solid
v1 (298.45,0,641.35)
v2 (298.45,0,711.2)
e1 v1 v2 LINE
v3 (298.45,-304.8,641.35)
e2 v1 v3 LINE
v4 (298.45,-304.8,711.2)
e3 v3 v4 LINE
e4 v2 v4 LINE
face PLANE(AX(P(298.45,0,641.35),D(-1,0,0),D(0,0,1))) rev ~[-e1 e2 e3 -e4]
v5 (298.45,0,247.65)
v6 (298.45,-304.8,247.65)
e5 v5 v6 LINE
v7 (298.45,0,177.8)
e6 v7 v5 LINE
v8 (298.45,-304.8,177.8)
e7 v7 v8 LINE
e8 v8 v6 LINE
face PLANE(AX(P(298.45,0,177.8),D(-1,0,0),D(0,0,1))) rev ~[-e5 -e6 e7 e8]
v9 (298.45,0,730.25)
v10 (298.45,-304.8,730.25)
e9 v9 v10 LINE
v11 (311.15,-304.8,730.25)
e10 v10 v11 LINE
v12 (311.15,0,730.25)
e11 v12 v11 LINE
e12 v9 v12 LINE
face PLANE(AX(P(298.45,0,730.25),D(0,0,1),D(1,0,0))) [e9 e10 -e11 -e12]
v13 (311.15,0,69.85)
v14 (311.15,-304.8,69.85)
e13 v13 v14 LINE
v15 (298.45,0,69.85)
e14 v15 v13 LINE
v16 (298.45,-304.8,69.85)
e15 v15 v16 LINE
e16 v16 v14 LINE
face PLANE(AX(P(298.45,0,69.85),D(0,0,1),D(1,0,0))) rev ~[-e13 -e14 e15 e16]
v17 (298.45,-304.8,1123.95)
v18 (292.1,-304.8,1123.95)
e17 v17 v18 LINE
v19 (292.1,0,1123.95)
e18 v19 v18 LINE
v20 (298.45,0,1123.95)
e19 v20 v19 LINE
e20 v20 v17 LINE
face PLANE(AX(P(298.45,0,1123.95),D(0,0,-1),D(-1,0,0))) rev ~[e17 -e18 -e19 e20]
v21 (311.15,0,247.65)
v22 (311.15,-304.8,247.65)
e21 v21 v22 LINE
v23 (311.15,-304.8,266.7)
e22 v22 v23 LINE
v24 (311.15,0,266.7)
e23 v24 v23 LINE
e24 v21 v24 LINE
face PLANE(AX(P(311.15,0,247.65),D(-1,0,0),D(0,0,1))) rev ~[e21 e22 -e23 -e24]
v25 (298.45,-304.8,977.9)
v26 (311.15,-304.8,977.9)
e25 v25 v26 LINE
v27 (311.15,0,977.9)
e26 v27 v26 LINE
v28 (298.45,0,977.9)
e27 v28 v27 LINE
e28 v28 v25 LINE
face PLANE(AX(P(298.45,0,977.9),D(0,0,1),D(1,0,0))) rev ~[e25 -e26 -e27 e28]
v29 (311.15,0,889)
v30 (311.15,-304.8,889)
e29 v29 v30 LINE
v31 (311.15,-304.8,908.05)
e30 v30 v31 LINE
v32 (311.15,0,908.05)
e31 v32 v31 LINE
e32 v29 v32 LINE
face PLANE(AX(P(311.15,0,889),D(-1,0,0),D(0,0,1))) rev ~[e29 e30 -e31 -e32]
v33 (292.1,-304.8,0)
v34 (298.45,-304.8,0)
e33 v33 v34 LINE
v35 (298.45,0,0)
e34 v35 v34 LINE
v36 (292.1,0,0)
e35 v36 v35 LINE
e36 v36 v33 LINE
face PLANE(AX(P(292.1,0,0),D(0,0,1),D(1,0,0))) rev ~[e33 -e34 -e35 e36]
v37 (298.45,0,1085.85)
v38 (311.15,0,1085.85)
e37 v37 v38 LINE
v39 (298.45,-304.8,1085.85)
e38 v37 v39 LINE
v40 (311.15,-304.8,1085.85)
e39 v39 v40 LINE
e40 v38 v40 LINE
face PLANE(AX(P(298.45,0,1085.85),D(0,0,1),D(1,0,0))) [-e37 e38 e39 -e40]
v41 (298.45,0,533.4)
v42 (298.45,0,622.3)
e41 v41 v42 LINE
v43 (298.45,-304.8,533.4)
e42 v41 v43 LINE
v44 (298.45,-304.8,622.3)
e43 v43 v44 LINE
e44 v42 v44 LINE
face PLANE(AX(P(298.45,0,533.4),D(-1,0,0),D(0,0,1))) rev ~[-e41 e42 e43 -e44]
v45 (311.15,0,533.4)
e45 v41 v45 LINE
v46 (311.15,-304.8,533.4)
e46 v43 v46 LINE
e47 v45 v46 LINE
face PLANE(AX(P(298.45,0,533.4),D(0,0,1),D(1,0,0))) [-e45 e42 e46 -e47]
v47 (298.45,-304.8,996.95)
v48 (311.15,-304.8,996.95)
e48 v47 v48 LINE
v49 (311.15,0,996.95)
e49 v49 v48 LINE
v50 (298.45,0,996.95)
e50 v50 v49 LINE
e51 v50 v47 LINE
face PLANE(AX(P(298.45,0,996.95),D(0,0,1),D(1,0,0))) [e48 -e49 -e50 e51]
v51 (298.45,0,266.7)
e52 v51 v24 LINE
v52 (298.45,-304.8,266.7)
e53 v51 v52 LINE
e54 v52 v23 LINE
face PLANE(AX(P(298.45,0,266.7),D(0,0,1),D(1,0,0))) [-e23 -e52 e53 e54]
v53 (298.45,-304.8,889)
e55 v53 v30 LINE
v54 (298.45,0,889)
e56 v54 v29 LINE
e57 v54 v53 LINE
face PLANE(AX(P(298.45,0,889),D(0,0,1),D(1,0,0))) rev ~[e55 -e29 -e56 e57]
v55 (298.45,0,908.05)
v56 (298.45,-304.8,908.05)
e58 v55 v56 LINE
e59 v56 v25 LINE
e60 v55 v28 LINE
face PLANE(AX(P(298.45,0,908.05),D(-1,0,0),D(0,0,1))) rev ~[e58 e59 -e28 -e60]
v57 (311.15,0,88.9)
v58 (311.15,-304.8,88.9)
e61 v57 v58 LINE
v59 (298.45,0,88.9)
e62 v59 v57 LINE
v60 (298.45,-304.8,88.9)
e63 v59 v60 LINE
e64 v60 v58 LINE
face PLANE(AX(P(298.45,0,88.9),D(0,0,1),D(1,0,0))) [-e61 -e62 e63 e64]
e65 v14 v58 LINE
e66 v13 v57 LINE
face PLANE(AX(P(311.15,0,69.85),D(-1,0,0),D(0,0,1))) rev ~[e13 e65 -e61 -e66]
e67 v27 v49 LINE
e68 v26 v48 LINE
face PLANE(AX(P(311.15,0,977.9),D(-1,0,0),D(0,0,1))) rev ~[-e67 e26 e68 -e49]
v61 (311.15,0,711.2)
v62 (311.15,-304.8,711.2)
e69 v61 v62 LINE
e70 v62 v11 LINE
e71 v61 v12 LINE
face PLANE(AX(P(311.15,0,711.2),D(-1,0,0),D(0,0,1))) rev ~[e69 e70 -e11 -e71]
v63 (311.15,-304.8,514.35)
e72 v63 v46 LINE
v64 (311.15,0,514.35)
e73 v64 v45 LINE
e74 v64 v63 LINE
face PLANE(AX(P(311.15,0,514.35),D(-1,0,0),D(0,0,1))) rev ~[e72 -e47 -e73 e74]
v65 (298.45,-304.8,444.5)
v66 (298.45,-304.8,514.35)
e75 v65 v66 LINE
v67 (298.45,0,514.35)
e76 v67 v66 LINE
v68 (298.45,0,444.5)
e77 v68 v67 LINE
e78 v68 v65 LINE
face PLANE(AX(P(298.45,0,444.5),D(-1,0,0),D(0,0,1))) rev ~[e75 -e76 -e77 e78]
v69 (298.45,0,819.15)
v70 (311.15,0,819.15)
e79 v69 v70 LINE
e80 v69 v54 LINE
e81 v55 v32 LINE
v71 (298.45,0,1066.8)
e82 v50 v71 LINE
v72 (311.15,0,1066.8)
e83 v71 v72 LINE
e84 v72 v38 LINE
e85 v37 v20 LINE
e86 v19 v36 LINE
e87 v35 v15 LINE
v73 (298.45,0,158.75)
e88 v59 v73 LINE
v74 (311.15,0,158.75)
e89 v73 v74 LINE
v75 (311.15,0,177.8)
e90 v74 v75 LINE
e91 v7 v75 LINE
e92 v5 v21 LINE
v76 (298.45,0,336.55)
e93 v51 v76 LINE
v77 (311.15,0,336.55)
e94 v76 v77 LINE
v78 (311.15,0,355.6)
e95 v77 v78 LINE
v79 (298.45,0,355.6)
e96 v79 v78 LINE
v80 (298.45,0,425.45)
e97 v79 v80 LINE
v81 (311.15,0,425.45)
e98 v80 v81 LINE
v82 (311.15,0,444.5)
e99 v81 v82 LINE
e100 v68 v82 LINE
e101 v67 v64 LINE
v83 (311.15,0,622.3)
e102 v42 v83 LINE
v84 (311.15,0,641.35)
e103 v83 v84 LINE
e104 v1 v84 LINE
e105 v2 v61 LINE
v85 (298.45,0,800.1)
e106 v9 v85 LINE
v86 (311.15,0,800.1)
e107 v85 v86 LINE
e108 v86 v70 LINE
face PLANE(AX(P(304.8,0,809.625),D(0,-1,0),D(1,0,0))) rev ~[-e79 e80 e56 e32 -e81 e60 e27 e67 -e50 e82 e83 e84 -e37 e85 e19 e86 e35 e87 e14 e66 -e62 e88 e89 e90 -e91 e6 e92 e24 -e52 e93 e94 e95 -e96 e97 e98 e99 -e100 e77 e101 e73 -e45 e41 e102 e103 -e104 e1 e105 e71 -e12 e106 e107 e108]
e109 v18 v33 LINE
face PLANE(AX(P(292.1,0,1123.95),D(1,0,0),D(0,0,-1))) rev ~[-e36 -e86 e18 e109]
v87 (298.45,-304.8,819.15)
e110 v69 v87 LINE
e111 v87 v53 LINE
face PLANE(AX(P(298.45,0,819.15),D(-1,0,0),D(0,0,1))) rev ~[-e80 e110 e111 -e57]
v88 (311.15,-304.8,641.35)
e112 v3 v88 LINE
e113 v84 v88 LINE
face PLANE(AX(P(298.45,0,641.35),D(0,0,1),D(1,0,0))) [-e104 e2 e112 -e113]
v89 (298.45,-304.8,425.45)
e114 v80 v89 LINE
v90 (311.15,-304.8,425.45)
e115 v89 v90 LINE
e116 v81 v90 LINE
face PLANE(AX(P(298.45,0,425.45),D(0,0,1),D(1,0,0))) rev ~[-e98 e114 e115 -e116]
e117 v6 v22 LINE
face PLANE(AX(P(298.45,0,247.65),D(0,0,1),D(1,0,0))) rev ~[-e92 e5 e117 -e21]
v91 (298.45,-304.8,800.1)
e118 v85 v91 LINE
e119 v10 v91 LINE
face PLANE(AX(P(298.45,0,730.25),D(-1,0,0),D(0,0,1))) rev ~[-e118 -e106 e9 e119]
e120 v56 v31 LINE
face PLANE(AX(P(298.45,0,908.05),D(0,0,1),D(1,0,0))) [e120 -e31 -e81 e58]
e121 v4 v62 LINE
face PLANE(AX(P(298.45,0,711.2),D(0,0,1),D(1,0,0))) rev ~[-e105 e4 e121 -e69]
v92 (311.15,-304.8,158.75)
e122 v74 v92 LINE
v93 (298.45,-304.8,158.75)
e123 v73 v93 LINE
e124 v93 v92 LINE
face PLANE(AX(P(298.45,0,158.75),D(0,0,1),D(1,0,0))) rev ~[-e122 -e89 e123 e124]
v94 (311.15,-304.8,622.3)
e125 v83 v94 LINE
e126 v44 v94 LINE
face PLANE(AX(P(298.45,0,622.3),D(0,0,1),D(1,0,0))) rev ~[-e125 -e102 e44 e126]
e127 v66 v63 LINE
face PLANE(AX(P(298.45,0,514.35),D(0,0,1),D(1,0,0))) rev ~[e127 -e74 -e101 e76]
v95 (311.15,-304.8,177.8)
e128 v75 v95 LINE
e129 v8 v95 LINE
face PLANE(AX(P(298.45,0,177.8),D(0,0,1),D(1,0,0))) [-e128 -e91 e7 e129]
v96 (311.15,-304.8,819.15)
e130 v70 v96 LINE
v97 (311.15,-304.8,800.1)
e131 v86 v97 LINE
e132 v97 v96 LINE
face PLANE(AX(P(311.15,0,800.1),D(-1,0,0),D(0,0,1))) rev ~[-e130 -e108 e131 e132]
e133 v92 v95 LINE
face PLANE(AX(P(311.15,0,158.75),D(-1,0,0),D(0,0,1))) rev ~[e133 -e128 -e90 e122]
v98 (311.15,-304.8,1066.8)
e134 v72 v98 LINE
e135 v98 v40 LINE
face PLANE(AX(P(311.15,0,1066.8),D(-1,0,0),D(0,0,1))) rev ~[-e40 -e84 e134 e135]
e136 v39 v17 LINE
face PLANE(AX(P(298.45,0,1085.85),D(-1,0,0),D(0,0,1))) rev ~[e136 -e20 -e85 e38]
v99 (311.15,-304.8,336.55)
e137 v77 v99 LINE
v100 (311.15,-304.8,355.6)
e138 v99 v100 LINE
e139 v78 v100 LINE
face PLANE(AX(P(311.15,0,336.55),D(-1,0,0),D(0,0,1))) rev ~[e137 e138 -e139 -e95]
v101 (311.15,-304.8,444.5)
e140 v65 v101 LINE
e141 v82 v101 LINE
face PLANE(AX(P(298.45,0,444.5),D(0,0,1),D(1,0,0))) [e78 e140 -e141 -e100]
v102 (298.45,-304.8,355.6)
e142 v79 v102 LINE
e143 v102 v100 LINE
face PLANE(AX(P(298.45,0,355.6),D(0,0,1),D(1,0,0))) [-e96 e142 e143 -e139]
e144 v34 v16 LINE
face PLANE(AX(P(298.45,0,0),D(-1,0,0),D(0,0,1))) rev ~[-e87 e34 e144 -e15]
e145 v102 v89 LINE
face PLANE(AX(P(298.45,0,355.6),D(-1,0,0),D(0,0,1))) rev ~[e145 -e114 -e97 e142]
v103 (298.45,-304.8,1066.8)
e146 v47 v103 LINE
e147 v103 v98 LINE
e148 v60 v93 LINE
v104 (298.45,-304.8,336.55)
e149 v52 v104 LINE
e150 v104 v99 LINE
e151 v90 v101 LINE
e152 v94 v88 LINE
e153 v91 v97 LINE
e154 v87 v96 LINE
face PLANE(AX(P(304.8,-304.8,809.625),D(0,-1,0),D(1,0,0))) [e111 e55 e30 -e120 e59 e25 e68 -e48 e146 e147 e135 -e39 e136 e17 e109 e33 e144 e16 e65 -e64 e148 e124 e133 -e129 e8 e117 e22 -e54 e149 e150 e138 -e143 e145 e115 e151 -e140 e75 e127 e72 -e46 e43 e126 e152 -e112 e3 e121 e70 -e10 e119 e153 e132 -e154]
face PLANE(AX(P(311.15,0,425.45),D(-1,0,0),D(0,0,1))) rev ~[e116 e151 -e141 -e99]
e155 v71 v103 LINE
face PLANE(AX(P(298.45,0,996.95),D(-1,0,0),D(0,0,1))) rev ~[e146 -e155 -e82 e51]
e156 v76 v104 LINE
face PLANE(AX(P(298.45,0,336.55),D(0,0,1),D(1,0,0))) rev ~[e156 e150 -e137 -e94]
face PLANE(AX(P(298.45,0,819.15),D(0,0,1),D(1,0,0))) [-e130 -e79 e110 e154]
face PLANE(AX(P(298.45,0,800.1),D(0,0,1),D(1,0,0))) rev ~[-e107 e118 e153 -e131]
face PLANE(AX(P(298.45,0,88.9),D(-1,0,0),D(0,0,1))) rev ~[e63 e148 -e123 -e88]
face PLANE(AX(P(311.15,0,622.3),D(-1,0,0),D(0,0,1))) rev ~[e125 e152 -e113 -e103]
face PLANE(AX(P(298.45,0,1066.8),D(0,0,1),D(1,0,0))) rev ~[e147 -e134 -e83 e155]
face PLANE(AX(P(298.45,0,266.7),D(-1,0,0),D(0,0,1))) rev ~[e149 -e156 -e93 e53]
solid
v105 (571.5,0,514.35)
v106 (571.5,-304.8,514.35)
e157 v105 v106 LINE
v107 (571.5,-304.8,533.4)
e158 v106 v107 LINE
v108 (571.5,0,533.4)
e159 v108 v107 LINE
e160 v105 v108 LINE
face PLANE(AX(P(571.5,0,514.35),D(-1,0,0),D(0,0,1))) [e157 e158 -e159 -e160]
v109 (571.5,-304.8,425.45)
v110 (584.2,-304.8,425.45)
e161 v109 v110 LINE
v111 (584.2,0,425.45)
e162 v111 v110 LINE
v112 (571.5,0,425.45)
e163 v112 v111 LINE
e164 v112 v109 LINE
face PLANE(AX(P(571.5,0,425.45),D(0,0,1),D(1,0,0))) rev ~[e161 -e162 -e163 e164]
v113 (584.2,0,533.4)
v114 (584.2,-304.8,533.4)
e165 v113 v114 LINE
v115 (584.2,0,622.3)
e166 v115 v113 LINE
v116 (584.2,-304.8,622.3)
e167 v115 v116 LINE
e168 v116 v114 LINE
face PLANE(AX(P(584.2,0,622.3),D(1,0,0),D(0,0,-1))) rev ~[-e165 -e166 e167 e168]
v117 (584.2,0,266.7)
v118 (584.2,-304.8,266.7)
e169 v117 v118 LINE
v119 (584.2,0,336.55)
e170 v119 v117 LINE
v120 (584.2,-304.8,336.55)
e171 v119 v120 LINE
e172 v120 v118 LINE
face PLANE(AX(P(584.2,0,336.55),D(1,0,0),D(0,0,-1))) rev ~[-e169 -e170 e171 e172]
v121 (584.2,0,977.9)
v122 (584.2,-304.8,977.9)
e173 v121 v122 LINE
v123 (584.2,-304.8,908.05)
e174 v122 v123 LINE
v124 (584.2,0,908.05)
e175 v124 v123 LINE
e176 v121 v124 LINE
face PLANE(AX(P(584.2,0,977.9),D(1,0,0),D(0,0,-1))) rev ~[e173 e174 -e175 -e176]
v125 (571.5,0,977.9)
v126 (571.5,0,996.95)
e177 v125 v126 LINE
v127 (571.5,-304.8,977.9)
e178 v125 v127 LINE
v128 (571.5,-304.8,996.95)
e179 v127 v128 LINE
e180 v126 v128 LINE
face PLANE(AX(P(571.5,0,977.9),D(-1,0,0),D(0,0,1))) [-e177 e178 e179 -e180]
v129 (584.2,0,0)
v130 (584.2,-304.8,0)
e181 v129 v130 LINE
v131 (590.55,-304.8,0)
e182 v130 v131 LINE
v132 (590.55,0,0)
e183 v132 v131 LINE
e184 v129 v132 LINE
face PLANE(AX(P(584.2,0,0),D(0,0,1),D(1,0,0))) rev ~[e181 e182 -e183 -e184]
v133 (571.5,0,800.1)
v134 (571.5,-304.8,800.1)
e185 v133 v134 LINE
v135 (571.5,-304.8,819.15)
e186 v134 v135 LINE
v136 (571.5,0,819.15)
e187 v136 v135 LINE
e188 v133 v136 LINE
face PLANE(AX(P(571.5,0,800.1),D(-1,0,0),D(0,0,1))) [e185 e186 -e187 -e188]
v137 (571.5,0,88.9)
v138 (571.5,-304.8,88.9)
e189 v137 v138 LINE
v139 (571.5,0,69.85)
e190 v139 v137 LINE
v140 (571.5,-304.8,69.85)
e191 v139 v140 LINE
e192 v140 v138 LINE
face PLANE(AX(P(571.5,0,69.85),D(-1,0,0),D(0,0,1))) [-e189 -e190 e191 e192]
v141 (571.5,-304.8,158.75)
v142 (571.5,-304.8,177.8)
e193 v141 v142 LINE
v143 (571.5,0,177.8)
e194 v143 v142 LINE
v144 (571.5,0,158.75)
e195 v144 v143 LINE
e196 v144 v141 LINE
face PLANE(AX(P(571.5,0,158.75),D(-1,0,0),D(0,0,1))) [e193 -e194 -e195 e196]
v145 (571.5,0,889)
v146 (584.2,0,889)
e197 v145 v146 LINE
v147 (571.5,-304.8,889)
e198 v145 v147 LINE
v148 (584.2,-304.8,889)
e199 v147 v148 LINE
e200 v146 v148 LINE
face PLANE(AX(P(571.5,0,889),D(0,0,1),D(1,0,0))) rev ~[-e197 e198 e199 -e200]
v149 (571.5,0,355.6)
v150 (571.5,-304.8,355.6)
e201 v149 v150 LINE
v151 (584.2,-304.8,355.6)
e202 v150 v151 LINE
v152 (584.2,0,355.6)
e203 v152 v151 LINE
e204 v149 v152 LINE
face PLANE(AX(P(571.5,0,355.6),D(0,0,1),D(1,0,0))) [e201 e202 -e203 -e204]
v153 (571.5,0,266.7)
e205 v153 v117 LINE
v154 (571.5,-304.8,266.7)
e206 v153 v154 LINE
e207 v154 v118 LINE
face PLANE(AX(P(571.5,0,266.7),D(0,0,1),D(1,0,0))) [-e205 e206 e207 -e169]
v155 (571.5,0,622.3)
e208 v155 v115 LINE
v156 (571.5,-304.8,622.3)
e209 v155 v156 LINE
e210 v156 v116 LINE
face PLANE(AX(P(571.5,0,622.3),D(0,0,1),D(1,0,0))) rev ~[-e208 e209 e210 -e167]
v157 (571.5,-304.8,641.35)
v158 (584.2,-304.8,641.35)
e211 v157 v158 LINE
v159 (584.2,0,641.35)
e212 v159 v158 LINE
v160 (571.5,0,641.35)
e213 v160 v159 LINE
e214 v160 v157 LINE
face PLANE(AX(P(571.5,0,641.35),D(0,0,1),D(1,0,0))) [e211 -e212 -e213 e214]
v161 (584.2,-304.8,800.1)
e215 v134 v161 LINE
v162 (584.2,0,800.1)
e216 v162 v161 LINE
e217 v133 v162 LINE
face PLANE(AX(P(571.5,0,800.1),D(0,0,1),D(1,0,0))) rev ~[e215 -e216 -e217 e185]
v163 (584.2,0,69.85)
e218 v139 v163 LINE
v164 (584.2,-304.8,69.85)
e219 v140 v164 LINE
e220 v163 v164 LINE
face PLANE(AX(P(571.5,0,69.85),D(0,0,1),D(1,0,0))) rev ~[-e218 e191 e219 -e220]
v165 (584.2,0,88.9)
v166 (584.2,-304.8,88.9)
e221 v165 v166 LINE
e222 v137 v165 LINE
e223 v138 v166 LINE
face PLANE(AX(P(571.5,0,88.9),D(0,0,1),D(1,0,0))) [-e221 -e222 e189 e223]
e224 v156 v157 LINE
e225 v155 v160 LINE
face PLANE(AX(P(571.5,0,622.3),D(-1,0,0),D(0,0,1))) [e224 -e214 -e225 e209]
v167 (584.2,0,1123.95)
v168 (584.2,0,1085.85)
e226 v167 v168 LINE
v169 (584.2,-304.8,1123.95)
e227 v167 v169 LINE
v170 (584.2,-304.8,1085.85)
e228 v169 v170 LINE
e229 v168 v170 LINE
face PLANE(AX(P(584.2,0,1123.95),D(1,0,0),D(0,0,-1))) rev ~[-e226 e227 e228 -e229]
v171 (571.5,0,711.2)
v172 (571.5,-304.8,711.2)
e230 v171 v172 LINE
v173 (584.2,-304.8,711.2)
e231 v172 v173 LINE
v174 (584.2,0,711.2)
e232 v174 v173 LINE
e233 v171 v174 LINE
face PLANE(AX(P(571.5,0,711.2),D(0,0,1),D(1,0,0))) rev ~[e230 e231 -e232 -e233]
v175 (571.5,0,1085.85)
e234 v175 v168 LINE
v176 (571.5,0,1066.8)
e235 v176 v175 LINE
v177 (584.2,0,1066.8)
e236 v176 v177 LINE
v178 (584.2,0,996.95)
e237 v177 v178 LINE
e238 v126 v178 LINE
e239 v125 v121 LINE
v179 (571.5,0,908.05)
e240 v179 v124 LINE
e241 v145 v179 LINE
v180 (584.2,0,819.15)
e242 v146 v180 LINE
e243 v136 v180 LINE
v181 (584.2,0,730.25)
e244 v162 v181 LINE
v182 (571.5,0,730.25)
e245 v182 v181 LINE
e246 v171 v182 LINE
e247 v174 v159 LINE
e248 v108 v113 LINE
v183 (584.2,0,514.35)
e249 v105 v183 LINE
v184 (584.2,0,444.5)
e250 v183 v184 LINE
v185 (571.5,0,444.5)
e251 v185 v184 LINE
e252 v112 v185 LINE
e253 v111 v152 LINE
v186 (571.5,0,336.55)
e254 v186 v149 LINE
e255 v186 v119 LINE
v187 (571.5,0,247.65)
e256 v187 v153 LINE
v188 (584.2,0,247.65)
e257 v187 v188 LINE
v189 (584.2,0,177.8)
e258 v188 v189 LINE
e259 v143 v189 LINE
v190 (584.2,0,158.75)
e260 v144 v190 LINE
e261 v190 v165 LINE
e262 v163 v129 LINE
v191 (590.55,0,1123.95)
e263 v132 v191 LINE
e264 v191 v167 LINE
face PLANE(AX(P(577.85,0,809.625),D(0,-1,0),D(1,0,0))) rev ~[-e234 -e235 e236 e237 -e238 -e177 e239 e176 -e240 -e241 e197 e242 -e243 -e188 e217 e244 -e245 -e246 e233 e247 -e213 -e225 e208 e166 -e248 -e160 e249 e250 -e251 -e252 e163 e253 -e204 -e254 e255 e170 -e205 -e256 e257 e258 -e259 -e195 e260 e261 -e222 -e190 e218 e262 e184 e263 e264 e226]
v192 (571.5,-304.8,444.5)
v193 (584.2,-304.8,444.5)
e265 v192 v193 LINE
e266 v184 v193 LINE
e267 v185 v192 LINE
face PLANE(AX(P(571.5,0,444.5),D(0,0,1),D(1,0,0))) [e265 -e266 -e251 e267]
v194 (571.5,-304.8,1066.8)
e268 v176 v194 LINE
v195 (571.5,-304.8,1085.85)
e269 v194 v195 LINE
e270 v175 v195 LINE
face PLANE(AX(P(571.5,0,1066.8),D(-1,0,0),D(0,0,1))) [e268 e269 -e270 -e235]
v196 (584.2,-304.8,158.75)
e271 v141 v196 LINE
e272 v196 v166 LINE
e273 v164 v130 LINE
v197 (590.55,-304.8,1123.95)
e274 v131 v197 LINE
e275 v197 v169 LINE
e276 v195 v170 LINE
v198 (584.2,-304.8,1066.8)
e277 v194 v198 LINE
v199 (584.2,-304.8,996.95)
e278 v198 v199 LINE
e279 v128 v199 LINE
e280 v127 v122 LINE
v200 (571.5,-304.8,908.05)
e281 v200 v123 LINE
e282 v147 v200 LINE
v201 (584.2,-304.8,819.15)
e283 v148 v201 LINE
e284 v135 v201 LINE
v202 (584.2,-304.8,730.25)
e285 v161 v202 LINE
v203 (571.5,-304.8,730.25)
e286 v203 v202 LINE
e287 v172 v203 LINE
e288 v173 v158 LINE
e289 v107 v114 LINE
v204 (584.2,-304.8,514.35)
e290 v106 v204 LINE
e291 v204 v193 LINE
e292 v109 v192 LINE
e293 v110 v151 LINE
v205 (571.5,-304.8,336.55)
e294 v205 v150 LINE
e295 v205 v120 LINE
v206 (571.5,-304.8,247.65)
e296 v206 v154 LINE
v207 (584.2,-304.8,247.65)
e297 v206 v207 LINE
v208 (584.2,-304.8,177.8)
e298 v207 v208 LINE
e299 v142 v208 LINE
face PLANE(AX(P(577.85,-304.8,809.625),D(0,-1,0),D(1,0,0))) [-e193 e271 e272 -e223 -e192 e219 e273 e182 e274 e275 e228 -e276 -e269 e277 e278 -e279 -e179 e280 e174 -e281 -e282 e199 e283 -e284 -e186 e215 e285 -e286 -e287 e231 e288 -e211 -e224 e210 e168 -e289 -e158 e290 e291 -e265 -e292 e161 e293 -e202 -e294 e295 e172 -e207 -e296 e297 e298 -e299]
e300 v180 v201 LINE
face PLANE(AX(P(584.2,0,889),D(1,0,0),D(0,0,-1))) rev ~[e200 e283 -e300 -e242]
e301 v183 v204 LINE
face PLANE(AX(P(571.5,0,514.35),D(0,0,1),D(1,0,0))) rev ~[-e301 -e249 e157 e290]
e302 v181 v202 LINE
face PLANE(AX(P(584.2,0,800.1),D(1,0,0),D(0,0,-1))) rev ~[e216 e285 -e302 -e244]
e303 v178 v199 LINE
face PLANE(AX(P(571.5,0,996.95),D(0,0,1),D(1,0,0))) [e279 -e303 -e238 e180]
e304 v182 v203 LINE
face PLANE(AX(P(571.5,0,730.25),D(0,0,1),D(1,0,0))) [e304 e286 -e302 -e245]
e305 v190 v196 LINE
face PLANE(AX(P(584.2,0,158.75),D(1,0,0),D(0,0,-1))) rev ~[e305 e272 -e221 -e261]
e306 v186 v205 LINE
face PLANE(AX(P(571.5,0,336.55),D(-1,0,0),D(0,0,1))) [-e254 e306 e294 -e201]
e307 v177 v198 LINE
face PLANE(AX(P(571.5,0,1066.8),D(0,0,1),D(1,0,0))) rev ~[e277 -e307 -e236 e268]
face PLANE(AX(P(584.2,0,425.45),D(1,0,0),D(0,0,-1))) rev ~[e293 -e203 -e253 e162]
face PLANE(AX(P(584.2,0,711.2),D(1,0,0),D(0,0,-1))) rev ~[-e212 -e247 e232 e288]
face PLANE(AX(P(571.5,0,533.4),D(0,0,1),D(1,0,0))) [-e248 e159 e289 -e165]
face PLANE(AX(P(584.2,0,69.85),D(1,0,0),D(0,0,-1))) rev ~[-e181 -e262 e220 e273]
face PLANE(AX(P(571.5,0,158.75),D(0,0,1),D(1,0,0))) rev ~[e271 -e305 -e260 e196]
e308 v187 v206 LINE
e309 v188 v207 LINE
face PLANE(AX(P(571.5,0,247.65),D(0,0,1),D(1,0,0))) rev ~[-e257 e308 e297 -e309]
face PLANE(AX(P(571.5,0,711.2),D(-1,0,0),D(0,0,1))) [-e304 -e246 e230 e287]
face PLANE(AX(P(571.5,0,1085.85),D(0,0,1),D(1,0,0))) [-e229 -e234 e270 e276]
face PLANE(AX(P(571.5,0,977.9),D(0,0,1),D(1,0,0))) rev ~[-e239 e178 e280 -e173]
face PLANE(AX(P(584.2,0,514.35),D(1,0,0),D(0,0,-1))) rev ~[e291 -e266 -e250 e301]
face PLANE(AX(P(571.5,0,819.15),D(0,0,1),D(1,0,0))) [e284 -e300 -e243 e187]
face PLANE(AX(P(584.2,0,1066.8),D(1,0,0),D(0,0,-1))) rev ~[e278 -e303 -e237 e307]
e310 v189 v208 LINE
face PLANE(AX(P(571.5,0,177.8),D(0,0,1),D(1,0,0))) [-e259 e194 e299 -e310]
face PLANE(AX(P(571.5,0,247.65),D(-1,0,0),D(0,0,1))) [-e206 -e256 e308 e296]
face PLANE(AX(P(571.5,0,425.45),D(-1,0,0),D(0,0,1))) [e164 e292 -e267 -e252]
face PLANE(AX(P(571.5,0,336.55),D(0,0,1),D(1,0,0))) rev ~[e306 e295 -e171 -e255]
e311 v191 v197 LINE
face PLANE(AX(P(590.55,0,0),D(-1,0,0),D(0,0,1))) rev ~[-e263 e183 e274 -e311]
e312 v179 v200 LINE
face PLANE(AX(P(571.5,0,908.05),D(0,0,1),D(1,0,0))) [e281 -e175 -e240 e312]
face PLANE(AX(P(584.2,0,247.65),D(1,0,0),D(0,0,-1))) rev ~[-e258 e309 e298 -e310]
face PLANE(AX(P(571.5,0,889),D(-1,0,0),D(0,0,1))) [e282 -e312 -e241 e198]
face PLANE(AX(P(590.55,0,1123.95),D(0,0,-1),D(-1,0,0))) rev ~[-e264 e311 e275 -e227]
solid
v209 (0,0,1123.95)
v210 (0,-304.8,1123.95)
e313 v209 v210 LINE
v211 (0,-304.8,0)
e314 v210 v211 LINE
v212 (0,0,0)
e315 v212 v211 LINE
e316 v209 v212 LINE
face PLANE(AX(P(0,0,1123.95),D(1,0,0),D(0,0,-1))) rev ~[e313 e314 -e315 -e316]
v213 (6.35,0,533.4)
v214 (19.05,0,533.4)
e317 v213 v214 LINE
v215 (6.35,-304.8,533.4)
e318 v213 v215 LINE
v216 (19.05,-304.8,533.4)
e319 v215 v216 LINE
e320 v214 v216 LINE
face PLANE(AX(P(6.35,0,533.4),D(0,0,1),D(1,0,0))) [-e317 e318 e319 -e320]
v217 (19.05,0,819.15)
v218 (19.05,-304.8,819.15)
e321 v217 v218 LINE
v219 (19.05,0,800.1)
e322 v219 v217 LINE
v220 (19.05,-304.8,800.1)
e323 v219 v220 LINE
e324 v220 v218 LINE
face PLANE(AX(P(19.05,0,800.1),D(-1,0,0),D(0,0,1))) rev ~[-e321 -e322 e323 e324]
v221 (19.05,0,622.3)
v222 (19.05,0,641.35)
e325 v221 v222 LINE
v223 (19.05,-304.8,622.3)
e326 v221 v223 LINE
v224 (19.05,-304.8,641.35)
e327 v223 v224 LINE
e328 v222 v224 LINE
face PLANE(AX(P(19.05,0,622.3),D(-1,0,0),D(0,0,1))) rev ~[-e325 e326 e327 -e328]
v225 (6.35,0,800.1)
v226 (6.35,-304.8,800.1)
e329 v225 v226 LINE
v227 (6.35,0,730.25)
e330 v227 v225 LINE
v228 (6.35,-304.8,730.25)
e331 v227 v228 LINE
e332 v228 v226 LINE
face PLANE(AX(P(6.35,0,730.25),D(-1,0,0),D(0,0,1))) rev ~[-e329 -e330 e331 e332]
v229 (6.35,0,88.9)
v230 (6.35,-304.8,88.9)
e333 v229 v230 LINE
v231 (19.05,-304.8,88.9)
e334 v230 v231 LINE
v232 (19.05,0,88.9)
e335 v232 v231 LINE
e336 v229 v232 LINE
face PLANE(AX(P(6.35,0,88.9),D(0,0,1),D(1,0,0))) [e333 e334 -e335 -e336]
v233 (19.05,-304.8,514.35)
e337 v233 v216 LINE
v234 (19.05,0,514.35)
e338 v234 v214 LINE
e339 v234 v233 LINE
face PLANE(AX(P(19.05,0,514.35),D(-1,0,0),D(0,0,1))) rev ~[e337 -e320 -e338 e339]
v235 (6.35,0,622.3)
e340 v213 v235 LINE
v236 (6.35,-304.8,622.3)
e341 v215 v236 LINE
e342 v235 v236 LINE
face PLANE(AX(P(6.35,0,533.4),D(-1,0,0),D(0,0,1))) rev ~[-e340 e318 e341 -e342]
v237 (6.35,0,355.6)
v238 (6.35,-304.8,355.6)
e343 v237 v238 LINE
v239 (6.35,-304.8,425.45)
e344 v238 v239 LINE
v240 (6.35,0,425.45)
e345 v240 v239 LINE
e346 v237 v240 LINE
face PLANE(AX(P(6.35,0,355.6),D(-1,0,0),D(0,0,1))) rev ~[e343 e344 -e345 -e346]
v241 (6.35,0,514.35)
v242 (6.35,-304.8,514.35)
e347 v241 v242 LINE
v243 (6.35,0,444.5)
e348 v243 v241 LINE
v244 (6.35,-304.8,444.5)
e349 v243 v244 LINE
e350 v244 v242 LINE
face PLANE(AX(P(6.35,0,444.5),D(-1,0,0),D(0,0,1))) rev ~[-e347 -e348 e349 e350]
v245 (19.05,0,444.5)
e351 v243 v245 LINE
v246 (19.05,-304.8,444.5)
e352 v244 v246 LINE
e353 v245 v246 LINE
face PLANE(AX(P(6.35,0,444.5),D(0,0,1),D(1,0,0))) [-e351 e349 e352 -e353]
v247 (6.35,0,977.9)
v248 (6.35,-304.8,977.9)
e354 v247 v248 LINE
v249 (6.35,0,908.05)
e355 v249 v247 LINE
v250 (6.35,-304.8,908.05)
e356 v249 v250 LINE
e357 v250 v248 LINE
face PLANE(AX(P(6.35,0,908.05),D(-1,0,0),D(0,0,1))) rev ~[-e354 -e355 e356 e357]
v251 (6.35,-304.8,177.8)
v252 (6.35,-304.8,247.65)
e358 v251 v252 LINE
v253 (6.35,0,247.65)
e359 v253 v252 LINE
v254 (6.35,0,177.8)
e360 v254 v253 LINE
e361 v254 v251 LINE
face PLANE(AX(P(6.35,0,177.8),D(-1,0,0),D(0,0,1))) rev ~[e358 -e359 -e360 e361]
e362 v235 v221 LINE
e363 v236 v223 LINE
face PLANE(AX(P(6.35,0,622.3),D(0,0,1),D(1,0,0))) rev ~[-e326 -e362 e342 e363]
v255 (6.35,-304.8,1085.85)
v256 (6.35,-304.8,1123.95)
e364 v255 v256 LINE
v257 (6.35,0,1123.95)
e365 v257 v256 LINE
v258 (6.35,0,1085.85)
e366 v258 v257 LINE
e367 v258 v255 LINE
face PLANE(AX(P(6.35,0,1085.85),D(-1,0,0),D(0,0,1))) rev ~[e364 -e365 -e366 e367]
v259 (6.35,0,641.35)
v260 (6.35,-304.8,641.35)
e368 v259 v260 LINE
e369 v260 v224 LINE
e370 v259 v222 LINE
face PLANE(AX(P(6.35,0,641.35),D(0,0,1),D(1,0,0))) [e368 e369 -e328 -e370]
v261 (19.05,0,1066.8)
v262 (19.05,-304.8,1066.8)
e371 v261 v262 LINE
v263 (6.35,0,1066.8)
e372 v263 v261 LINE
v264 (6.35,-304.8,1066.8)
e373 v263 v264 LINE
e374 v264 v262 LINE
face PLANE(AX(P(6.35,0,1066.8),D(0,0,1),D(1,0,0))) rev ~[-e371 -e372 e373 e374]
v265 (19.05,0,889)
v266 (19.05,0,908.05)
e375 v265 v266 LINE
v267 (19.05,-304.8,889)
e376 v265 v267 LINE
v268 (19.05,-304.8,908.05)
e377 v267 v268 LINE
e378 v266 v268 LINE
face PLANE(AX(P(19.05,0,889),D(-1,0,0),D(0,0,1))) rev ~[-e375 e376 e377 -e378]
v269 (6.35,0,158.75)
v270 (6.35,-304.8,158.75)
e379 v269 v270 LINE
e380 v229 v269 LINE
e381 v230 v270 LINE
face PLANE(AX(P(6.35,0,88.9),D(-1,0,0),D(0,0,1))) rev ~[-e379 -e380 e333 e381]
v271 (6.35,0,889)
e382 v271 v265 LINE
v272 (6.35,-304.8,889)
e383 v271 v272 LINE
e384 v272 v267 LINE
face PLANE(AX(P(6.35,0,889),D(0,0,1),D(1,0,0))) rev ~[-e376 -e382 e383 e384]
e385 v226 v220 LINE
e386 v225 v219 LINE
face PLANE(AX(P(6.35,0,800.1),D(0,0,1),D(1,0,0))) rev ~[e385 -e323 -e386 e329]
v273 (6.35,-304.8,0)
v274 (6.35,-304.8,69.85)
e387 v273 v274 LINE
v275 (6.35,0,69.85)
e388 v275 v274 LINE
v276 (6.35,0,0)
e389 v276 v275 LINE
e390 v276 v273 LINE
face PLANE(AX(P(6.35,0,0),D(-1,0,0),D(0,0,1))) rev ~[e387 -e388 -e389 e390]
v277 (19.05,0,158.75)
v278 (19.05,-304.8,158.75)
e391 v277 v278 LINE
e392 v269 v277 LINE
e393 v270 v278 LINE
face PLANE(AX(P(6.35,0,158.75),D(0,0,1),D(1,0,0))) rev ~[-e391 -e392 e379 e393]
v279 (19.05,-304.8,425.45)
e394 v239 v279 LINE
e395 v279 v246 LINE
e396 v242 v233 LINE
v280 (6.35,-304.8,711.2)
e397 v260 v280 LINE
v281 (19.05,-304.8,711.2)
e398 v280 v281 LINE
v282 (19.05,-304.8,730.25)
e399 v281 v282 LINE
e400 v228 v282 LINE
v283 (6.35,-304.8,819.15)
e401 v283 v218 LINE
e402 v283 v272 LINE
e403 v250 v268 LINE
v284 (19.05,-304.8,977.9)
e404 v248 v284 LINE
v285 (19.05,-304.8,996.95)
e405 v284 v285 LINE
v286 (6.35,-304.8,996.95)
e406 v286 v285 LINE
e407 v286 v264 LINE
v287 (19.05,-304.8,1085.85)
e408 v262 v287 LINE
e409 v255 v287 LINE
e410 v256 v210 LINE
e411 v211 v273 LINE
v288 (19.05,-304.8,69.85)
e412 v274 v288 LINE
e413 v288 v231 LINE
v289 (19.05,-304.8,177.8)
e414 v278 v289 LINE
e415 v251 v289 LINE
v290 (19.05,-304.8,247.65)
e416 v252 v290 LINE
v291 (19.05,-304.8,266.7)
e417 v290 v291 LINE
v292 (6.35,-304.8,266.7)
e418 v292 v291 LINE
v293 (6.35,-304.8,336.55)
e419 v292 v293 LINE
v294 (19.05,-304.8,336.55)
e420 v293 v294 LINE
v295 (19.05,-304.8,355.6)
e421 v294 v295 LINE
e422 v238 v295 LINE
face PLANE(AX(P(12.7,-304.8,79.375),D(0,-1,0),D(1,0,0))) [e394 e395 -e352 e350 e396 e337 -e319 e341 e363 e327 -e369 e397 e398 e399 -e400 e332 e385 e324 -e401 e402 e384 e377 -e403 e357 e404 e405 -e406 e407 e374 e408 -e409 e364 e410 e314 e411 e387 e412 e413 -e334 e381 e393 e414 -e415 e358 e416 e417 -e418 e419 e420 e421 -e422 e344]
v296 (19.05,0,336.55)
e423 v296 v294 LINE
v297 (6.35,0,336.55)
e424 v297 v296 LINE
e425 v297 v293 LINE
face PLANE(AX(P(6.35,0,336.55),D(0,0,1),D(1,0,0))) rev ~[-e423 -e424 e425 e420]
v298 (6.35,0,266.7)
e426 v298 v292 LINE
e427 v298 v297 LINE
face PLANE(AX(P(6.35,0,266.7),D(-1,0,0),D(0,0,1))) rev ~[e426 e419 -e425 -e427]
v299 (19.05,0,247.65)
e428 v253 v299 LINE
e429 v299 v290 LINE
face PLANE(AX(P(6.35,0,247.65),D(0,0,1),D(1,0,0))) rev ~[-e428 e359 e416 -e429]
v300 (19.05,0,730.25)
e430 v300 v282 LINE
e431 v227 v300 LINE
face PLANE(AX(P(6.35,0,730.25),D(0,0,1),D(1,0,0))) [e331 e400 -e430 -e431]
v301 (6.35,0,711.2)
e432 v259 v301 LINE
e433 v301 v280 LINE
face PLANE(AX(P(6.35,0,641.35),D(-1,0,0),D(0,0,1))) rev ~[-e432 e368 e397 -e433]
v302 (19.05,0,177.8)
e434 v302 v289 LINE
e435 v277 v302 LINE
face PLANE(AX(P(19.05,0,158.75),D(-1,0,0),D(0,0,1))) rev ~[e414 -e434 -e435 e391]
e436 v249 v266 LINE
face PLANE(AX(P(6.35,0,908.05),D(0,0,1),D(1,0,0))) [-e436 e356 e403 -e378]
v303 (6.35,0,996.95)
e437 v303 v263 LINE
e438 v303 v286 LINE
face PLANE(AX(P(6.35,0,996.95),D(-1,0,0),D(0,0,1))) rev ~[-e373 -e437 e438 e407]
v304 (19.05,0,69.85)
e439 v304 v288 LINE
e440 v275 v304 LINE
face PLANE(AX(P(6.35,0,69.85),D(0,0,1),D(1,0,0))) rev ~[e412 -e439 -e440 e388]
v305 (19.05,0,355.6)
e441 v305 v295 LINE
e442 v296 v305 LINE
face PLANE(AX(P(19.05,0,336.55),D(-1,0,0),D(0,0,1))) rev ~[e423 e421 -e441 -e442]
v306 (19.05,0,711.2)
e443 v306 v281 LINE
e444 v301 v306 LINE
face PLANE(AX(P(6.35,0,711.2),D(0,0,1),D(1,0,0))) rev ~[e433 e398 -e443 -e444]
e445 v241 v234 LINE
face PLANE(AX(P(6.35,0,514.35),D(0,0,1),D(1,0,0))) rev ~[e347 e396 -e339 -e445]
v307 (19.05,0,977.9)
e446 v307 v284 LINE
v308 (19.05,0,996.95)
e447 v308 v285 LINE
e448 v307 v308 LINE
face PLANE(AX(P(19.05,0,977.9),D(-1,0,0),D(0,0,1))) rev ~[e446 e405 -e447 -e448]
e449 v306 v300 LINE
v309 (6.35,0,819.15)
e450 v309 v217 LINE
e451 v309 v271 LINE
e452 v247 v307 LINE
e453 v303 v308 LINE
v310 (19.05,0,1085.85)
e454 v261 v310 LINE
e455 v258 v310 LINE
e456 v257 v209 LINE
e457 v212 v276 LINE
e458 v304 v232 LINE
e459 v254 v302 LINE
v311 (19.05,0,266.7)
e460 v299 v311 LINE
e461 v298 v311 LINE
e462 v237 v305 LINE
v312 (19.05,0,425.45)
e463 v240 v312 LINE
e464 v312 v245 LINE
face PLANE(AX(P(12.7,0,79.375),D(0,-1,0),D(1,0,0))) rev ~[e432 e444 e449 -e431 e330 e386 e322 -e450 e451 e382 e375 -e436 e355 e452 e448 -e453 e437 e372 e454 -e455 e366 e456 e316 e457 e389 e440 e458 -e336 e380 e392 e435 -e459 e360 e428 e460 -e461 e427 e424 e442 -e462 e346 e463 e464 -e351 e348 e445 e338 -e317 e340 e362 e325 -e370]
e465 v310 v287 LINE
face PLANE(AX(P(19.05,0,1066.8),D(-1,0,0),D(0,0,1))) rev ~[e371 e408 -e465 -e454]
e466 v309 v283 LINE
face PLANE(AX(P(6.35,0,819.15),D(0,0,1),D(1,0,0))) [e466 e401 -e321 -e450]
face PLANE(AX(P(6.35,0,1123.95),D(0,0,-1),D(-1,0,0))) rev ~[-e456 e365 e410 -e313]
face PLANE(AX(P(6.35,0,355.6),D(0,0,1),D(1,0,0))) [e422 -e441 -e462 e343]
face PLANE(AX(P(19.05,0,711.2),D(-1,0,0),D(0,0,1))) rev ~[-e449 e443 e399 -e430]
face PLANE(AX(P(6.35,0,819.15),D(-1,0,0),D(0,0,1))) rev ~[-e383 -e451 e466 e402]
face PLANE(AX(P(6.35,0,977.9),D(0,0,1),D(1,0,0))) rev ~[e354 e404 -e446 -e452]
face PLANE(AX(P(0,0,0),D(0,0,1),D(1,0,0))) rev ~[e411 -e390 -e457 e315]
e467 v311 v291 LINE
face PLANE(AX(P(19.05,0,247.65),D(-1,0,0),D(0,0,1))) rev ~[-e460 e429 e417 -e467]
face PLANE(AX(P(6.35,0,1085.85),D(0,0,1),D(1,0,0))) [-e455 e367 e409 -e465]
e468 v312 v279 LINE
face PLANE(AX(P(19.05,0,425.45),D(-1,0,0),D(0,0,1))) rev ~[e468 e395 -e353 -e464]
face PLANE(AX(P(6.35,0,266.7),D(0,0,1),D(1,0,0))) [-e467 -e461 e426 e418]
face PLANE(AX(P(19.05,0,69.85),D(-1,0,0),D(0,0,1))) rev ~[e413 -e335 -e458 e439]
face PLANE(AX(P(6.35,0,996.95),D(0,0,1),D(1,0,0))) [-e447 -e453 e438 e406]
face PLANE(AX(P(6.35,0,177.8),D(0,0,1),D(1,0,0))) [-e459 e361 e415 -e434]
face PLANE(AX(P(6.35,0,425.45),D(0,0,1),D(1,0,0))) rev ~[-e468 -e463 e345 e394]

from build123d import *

# Parameters (mm, degrees)
F0_W     = 12.7
F0_H     = 19.05
F1_DEPTH = 304.8


with BuildPart() as f1:
    # F0 (on Front) → F1 (new body)
    with BuildSketch(Plane.XZ):
        with Locations((12.7, 79.375)):
            Rectangle(F0_W, F0_H)
        with Locations((12.7, 168.275)):
            Rectangle(F0_W, F0_H)
        with Locations((12.7, 257.175)):
            Rectangle(F0_W, F0_H)
        with Locations((12.7, 346.075)):
            Rectangle(F0_W, F0_H)
        with Locations((12.7, 434.975)):
            Rectangle(F0_W, F0_H)
        with Locations((12.7, 523.875)):
            Rectangle(F0_W, F0_H)
        with Locations((12.7, 898.525)):
            Rectangle(F0_W, F0_H)
        with Locations((12.7, 809.625)):
            Rectangle(F0_W, F0_H)
        with Locations((12.7, 1076.325)):
            Rectangle(F0_W, F0_H)
        with Locations((12.7, 631.825)):
            Rectangle(F0_W, F0_H)
        with Locations((12.7, 987.425)):
            Rectangle(F0_W, F0_H)
        with Locations((12.7, 720.725)):
            Rectangle(F0_W, F0_H)
        with Locations((577.85, 809.625)):
            Rectangle(F0_W, F0_H)
        with Locations((304.8, 809.625)):
            Rectangle(F0_W, F0_H)
        with Locations((577.85, 1076.325)):
            Rectangle(F0_W, F0_H)
        with Locations((304.8, 898.525)):
            Rectangle(F0_W, F0_H)
        with Locations((304.8, 1076.325)):
            Rectangle(F0_W, F0_H)
        with Locations((577.85, 631.825)):
            Rectangle(F0_W, F0_H)
        with Locations((577.85, 898.525)):
            Rectangle(F0_W, F0_H)
        with Locations((304.8, 720.725)):
            Rectangle(F0_W, F0_H)
        with Locations((304.8, 987.425)):
            Rectangle(F0_W, F0_H)
        with Locations((577.85, 720.725)):
            Rectangle(F0_W, F0_H)
        with Locations((577.85, 987.425)):
            Rectangle(F0_W, F0_H)
        with Locations((304.8, 631.825)):
            Rectangle(F0_W, F0_H)
        with Locations((577.85, 434.975)):
            Rectangle(F0_W, F0_H)
        with Locations((304.8, 523.875)):
            Rectangle(F0_W, F0_H)
        with Locations((304.8, 346.075)):
            Rectangle(F0_W, F0_H)
        with Locations((577.85, 168.275)):
            Rectangle(F0_W, F0_H)
        with Locations((577.85, 257.175)):
            Rectangle(F0_W, F0_H)
        with Locations((304.8, 168.275)):
            Rectangle(F0_W, F0_H)
        with Locations((304.8, 257.175)):
            Rectangle(F0_W, F0_H)
        with Locations((577.85, 523.875)):
            Rectangle(F0_W, F0_H)
        with Locations((304.8, 79.375)):
            Rectangle(F0_W, F0_H)
        with Locations((304.8, 434.975)):
            Rectangle(F0_W, F0_H)
        with Locations((577.85, 79.375)):
            Rectangle(F0_W, F0_H)
        with Locations((577.85, 346.075)):
            Rectangle(F0_W, F0_H)
        Polygon((0, 1123.95), (0, 0), (6.35, 0), (6.35, 19.05), (6.35, 69.85), (6.35, 88.9), (6.35, 158.75), (6.35, 177.8), (6.35, 247.65), (6.35, 266.7), (6.35, 336.55), (6.35, 355.6), (6.35, 425.45), (6.35, 444.5), (6.35, 514.35), (6.35, 533.4), (6.35, 552.45), (6.35, 571.5), (6.35, 622.3), (6.35, 641.35), (6.35, 711.2), (6.35, 730.25), (6.35, 800.1), (6.35, 819.15), (6.35, 889), (6.35, 908.05), (6.35, 977.9), (6.35, 996.95), (6.35, 1066.8), (6.35, 1085.85), (6.35, 1104.9), (6.35, 1123.95), align=None)
        Polygon((292.1, 19.05), (292.1, 0), (298.45, 0), (298.45, 19.05), (298.45, 69.85), (298.45, 88.9), (298.45, 158.75), (298.45, 177.8), (298.45, 247.65), (298.45, 266.7), (298.45, 336.55), (298.45, 355.6), (298.45, 425.45), (298.45, 444.5), (298.45, 514.35), (298.45, 533.4), (298.45, 552.45), (298.45, 571.5), (298.45, 622.3), (298.45, 641.35), (298.45, 711.2), (298.45, 730.25), (298.45, 800.1), (298.45, 819.15), (298.45, 889), (298.45, 908.05), (298.45, 977.9), (298.45, 996.95), (298.45, 1066.8), (298.45, 1085.85), (298.45, 1104.9), (298.45, 1123.95), (292.1, 1123.95), (292.1, 1104.9), (292.1, 571.5), (292.1, 552.45), align=None)
        Polygon((584.2, 19.05), (584.2, 0), (590.55, 0), (590.55, 1123.95), (584.2, 1123.95), (584.2, 1104.9), (584.2, 1085.85), (584.2, 1066.8), (584.2, 996.95), (584.2, 977.9), (584.2, 908.05), (584.2, 889), (584.2, 819.15), (584.2, 800.1), (584.2, 730.25), (584.2, 711.2), (584.2, 641.35), (584.2, 622.3), (584.2, 571.5), (584.2, 552.45), (584.2, 533.4), (584.2, 514.35), (584.2, 444.5), (584.2, 425.45), (584.2, 355.6), (584.2, 336.55), (584.2, 266.7), (584.2, 247.65), (584.2, 177.8), (584.2, 158.75), (584.2, 88.9), (584.2, 69.85), align=None)
    extrude(amount=F1_DEPTH)


solid = f1.part
